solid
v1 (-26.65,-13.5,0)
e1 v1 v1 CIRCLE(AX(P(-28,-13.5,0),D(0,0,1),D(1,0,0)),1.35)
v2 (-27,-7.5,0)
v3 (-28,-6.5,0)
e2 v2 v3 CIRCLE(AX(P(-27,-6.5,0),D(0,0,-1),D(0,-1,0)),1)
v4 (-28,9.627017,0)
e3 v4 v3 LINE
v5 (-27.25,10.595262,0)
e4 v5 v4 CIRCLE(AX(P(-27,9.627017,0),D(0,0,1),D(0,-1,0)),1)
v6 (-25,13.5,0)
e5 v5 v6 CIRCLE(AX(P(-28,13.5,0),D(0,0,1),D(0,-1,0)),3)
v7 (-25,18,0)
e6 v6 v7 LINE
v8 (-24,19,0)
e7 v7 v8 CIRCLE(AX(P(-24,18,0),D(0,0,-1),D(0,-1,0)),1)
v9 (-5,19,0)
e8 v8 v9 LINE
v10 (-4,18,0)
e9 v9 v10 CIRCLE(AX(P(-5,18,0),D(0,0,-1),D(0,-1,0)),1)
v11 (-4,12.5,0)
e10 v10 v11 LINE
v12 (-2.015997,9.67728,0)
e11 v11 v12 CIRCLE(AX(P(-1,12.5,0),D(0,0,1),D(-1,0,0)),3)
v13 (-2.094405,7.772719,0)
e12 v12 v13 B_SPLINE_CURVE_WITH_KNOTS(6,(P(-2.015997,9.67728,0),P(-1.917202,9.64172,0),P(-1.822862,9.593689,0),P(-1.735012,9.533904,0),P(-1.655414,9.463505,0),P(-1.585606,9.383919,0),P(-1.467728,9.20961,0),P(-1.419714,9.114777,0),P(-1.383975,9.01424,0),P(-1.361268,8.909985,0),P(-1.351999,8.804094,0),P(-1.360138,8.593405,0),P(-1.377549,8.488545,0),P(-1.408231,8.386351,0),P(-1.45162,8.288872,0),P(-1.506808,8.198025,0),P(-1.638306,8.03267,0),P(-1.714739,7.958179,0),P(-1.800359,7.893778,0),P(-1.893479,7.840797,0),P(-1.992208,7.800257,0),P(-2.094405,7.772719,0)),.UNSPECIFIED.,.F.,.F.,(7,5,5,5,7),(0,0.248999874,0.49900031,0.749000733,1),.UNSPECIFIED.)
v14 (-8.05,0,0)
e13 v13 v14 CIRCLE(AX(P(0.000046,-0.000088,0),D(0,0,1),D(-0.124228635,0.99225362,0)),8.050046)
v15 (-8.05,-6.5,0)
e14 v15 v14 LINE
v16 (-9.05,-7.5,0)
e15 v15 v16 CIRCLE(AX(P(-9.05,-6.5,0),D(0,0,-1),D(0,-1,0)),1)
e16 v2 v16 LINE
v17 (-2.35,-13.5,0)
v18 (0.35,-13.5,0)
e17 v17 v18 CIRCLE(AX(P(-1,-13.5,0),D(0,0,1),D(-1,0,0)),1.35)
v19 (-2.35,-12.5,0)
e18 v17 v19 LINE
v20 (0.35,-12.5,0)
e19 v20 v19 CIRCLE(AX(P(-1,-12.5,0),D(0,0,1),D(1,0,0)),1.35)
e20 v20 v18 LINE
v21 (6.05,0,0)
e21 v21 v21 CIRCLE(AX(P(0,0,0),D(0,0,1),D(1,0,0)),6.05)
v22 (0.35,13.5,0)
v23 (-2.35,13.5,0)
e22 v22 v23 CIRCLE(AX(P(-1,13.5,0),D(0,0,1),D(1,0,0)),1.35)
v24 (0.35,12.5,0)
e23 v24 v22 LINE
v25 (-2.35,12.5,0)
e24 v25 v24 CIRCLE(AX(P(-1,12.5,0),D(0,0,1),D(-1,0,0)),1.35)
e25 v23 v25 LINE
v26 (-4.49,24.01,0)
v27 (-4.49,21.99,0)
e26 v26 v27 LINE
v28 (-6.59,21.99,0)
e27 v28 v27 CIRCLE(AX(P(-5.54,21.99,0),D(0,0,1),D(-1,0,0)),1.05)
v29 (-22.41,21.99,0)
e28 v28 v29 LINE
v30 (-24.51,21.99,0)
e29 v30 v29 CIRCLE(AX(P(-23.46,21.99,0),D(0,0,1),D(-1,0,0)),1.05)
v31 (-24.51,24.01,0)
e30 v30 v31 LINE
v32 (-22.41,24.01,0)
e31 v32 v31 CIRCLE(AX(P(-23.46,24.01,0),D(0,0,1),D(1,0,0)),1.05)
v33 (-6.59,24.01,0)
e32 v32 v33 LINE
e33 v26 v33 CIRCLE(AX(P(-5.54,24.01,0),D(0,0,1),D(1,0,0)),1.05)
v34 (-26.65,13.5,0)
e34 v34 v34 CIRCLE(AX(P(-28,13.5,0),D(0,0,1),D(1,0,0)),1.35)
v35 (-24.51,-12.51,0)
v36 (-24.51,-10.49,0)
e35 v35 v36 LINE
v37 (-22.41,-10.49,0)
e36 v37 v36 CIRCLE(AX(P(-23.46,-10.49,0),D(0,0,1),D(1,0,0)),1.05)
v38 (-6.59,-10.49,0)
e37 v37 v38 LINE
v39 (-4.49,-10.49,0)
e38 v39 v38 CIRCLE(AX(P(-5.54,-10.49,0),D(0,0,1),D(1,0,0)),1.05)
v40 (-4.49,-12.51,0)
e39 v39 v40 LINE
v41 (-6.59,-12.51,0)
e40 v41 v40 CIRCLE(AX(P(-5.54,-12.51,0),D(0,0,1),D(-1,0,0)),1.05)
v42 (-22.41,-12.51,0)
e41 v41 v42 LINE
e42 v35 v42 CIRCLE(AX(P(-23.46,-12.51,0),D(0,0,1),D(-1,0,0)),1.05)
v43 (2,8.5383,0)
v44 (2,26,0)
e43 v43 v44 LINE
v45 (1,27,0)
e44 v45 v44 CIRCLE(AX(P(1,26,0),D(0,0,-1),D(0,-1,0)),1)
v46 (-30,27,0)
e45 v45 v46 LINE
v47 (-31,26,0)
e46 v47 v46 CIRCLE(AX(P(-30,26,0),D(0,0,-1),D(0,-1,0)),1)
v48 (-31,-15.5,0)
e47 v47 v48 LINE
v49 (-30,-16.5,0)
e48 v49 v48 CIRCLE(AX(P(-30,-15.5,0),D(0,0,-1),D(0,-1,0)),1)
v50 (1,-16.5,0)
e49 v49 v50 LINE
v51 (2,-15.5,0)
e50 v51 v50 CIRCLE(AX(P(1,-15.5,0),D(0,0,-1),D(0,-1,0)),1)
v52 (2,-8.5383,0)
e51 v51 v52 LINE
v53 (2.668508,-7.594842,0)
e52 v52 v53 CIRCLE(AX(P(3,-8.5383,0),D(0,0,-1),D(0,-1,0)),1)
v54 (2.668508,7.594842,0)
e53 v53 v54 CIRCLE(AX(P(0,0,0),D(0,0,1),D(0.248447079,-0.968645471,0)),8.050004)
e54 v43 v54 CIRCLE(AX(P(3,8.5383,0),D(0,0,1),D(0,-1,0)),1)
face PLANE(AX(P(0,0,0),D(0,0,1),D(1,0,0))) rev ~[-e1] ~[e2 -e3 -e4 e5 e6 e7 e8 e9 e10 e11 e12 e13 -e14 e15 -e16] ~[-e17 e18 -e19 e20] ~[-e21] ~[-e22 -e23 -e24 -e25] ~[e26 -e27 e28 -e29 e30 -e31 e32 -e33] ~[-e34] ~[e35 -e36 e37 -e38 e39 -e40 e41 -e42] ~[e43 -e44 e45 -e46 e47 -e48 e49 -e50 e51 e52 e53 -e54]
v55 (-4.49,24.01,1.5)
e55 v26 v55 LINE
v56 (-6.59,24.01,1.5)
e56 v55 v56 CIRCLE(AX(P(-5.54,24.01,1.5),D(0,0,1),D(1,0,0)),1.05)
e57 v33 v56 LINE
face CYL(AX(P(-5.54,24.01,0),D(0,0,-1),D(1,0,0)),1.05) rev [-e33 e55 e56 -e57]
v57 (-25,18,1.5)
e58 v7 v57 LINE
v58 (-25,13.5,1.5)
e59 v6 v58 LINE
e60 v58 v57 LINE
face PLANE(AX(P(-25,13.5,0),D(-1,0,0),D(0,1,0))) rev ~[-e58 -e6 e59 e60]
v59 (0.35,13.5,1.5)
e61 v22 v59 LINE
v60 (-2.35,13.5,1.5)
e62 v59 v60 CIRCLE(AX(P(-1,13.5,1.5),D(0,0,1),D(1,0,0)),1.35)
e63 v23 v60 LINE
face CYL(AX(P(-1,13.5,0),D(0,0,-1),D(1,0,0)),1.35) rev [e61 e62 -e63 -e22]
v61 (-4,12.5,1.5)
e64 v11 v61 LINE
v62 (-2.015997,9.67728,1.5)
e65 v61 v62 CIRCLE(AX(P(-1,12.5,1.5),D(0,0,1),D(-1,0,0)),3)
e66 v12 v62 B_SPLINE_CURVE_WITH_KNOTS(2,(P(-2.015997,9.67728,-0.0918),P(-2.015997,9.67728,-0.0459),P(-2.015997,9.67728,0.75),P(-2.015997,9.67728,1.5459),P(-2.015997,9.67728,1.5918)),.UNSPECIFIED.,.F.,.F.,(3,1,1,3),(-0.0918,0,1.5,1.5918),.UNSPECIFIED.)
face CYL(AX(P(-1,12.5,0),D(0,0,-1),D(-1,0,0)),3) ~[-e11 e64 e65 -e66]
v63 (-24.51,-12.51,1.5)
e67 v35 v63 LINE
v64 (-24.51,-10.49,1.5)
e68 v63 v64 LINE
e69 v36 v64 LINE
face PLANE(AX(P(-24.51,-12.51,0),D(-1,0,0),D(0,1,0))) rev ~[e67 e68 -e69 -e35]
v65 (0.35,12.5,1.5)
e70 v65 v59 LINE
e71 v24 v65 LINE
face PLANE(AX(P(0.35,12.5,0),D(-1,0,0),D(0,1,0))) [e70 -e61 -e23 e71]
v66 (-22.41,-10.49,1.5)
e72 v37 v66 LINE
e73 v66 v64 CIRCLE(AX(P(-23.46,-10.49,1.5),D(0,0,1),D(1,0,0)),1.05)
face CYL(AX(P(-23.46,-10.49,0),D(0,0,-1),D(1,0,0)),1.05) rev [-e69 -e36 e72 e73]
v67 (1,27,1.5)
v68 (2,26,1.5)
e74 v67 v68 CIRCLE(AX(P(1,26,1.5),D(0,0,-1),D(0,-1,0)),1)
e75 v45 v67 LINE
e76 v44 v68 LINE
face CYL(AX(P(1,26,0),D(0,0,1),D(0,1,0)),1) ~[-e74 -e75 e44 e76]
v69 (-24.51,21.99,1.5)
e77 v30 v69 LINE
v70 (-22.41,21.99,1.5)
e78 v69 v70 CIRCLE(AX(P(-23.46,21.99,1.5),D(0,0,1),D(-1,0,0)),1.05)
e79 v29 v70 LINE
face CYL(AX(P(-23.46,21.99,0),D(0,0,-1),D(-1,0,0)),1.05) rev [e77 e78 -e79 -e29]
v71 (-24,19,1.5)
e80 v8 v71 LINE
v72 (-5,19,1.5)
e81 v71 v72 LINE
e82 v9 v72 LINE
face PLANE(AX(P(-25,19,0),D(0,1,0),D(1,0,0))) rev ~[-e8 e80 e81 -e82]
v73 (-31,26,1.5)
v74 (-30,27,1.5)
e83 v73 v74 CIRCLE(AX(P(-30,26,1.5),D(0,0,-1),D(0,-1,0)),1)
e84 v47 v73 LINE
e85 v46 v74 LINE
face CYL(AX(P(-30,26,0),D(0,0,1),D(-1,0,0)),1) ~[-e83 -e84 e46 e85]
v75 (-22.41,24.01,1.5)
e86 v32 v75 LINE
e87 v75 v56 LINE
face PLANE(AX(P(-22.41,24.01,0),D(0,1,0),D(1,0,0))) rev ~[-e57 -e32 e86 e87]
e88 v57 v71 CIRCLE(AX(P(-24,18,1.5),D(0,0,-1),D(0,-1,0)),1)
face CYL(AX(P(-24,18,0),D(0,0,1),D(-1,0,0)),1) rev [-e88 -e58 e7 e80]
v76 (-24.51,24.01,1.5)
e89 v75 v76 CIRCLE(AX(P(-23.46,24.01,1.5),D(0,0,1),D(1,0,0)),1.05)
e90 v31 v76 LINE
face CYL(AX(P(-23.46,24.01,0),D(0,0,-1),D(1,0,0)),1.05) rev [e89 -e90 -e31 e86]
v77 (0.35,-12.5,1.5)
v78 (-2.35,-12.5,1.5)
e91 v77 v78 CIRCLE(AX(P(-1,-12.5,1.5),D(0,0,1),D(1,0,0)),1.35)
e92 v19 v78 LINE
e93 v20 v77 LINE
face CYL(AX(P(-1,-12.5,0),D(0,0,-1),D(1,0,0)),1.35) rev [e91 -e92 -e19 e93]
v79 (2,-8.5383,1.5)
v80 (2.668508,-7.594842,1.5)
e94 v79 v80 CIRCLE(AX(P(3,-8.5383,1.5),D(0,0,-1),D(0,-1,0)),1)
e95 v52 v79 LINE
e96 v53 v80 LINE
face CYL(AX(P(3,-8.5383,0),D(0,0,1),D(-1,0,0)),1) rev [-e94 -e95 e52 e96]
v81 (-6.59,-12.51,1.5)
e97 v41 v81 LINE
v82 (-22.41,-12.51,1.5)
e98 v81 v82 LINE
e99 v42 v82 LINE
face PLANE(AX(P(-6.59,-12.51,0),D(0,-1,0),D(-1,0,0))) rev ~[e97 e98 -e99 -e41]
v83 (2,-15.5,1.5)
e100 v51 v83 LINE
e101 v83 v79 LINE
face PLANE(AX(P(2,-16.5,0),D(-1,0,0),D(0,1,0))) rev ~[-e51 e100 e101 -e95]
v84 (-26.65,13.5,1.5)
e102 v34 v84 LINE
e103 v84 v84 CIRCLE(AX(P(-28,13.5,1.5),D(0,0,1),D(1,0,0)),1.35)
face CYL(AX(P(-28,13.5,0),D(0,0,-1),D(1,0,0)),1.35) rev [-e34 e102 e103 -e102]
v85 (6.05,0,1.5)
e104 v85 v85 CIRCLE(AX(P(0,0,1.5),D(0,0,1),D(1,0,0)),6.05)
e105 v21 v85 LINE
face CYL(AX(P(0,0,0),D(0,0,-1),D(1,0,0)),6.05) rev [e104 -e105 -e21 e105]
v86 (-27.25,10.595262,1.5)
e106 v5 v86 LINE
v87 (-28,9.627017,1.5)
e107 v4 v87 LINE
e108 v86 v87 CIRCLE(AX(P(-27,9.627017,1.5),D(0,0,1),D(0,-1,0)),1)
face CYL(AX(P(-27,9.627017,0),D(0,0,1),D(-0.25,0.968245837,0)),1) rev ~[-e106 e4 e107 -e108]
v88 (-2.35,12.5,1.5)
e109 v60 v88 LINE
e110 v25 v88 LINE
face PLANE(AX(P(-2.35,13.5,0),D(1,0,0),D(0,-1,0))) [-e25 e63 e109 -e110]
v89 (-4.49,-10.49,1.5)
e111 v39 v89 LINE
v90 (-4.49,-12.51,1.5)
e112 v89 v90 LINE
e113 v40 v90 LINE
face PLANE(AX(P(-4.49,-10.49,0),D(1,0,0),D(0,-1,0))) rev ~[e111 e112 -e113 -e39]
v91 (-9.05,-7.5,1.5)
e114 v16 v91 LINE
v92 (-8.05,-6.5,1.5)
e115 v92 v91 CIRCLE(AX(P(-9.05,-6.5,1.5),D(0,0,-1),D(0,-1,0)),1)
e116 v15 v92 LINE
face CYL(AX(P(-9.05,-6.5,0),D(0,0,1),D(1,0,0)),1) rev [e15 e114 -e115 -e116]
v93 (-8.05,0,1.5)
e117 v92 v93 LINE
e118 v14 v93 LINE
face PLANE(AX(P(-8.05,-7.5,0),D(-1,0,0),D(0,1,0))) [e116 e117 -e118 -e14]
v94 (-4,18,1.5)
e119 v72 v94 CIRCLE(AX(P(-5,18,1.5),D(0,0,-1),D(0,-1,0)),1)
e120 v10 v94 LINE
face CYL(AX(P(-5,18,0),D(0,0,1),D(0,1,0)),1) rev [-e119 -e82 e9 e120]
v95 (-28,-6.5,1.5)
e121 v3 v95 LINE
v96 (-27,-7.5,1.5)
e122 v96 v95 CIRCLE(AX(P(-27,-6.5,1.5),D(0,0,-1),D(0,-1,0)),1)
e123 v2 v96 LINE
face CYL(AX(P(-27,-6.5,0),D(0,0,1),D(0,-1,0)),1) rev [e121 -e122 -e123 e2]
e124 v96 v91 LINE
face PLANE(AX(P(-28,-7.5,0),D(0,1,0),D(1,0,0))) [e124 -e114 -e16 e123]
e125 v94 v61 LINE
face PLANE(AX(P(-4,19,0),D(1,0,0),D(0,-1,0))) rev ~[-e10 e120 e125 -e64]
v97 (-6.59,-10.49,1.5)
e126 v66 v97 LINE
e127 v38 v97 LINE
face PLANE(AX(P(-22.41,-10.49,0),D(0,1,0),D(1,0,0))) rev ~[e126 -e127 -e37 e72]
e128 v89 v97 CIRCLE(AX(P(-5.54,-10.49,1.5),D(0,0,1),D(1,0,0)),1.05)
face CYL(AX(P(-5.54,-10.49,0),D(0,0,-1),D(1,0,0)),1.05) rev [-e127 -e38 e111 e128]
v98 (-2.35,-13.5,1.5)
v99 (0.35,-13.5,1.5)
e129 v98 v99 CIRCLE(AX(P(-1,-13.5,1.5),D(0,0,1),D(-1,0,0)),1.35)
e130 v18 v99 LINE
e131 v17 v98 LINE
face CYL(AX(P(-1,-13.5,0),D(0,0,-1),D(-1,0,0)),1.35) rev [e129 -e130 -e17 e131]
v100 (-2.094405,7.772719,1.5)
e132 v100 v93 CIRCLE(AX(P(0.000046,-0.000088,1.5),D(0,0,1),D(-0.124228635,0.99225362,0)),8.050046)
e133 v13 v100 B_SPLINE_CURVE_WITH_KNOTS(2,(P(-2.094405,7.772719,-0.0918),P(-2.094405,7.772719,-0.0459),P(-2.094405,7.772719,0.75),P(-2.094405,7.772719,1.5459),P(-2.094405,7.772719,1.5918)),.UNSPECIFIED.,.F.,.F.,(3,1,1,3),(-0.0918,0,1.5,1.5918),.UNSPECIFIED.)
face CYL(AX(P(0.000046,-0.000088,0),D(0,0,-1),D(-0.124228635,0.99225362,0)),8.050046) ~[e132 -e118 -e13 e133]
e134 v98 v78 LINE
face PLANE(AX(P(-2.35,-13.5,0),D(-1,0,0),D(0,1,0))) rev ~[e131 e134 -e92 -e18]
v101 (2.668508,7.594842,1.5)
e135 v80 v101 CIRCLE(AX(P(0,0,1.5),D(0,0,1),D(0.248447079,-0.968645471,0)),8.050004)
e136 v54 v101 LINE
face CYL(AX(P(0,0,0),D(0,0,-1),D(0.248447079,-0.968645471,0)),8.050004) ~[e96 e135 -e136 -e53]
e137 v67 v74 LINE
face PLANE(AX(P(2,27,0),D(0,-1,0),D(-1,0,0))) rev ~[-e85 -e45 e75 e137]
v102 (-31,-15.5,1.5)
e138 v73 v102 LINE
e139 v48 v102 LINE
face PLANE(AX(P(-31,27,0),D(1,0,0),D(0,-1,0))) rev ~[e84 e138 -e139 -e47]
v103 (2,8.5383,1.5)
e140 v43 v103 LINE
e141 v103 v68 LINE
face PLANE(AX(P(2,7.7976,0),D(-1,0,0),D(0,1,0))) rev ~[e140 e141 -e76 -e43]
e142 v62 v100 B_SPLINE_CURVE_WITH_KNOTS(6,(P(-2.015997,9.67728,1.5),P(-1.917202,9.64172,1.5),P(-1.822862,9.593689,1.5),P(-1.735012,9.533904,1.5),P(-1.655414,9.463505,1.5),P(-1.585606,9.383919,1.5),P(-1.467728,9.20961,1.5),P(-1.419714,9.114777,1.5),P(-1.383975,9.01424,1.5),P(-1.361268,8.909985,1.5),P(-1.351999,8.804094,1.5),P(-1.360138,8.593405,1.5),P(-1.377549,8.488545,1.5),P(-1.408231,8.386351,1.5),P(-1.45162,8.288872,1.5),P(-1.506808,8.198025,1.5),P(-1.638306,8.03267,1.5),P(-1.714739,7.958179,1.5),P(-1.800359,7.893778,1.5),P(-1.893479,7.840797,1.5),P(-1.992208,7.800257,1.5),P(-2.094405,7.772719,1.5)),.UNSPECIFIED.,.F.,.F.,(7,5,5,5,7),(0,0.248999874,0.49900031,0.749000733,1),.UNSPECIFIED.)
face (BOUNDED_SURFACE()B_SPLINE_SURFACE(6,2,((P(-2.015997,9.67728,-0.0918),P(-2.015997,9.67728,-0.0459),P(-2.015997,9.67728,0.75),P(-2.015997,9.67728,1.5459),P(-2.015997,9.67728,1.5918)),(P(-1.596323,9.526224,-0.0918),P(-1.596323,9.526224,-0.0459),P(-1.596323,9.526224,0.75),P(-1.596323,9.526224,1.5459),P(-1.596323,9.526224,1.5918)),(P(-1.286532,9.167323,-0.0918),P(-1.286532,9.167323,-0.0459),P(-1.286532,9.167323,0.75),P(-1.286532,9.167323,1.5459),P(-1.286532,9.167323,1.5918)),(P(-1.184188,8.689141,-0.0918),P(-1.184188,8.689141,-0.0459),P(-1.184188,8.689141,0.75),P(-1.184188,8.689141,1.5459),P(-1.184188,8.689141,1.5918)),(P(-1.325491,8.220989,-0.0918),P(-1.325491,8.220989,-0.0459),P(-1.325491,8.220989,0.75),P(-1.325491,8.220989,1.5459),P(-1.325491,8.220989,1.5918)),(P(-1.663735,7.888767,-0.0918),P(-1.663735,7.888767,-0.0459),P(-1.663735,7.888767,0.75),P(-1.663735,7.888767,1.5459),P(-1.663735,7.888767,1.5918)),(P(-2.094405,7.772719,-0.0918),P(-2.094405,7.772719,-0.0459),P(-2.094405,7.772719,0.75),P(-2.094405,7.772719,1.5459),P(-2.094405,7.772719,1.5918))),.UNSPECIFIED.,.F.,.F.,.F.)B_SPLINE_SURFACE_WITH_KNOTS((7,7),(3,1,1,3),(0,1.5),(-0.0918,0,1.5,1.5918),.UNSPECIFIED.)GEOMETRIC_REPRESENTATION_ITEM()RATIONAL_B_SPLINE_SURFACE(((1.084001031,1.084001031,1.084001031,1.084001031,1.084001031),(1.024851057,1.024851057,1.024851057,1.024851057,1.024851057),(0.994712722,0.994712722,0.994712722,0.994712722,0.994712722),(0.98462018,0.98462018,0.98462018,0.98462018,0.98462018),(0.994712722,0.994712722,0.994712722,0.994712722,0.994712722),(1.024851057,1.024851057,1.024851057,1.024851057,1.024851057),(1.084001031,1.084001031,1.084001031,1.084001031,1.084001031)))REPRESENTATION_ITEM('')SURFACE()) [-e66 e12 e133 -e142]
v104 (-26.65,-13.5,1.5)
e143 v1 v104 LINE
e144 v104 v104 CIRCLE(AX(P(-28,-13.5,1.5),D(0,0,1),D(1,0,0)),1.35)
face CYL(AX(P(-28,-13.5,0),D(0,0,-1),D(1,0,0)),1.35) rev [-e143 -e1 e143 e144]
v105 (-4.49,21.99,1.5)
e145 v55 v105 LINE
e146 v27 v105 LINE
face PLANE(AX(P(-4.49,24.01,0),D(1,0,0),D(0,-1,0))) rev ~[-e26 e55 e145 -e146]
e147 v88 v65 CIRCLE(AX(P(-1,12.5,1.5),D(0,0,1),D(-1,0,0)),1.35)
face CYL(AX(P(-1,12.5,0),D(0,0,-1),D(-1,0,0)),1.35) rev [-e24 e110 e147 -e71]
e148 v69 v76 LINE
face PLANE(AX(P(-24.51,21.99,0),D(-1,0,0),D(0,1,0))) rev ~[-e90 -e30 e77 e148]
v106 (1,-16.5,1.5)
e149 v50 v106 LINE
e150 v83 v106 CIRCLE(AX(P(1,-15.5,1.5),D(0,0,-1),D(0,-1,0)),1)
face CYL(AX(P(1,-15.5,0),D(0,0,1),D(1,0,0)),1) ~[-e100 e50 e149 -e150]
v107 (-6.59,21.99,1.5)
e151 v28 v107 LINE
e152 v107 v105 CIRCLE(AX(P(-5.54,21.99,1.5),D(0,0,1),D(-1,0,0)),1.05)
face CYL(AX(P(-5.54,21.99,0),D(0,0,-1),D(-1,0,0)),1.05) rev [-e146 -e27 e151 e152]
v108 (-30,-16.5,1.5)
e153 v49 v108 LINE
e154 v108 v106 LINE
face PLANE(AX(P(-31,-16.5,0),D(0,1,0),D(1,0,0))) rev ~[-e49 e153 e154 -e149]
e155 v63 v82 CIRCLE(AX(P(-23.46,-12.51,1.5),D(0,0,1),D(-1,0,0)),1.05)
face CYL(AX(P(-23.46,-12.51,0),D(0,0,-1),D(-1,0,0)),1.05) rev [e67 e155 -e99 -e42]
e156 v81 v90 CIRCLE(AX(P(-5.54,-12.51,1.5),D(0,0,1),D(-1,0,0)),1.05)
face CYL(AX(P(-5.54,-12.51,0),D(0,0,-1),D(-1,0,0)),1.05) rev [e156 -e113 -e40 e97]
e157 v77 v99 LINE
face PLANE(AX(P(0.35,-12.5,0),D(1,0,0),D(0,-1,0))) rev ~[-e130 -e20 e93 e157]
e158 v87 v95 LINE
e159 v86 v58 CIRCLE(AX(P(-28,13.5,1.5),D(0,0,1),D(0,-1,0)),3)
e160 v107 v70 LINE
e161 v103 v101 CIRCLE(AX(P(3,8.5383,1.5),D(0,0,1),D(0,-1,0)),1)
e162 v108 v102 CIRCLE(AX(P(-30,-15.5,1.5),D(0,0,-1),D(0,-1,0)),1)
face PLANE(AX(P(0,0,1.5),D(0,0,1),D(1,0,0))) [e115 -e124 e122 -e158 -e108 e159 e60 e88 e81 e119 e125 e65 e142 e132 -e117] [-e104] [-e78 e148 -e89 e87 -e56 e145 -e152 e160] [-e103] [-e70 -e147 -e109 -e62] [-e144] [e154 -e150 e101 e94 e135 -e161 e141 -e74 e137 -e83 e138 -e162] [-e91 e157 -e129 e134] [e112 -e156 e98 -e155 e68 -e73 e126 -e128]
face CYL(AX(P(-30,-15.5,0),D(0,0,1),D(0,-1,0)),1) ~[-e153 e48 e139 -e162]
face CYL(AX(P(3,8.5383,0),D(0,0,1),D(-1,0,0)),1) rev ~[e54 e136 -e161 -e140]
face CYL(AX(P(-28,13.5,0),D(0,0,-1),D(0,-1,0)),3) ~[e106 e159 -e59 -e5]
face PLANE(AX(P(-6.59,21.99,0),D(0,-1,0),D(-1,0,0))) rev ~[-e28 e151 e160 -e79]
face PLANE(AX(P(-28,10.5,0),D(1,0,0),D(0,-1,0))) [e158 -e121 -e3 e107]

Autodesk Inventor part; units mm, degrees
ref_plane "YZ Plane" through (0, 0, 0) normal (1, 0, 0) x (0, 1, 0)
ref_plane "XZ Plane" through (0, 0, 0) normal (0, 1, 0) x (-1, 0, 0)
ref_plane "XY Plane" through (0, 0, 0) normal (0, 0, 1) x (1, 0, 0)
sketch "スケッチ1" plane through (0, 0, 0) normal (0, 0, 1) x (1, 0, 0)
  circle A0 centre (0, 0) radius 6.05
  arc A1 (2, -7.7976) -> (2, 7.7976) centre (0, 0) ccw
  line L0 (-31, 0) -> (0, 0) construction
  line L1 (-24.51, 24.01) -> (-4.49, 24.01)
  line L2 (-4.49, 24.01) -> (-4.49, 21.99)
  line L3 (-4.49, 21.99) -> (-24.51, 21.99)
  line L4 (-24.51, 21.99) -> (-24.51, 24.01)
  line L5 (-24.51, 24.01) -> (-4.49, 21.99) construction
  line L6 (-4.49, 24.01) -> (-24.51, 21.99) construction
  line L7 (-24.5, 24) -> (-4.5, 24) construction
  line L8 (-4.5, 24) -> (-4.5, 22) construction
  line L9 (-4.5, 22) -> (-24.5, 22) construction
  line L10 (-24.5, 22) -> (-24.5, 24) construction
  line L11 (-24.5, 24) -> (-4.5, 22) construction
  line L12 (-4.5, 24) -> (-24.5, 22) construction
  line L13 (-24.51, 23) -> (-4.49, 23) construction
  arc A2 (-22.41, 24.01) -> (-24.51, 24.01) centre (-23.46, 24.01) ccw
  arc A3 (-24.51, 21.99) -> (-22.41, 21.99) centre (-23.46, 21.99) ccw
  line L14 (-14.5, 24) -> (-14.5, 21.99) construction
  arc A4 (-4.49, 24.01) -> (-6.59, 24.01) centre (-5.54, 24.01) ccw
  arc A5 (-6.59, 21.99) -> (-4.49, 21.99) centre (-5.54, 21.99) ccw
  line L15 (-28, 13.5) -> (-1, 13.5) construction
  line L16 (-1, 13.5) -> (-1, -13.5) construction
  line L17 (-1, -13.5) -> (-28, -13.5) construction
  line L18 (-28, -13.5) -> (-28, 13.5) construction
  line L19 (-28, 13.5) -> (-1, -13.5) construction
  line L20 (-1, 13.5) -> (-28, -13.5) construction
  line L21 (-14.5, 13.5) -> (-14.5, -13.5) construction
  line L22 (-24.51, -10.49) -> (-4.49, -10.49)
  line L23 (-4.49, -10.49) -> (-4.49, -12.51)
  line L24 (-4.49, -12.51) -> (-24.51, -12.51)
  line L25 (-24.51, -12.51) -> (-24.51, -10.49)
  line L26 (-24.51, -10.49) -> (-4.49, -12.51) construction
  line L27 (-4.49, -10.49) -> (-24.51, -12.51) construction
  line L28 (-24.5, -10.5) -> (-4.5, -10.5) construction
  line L29 (-4.5, -10.5) -> (-4.5, -12.5) construction
  line L30 (-4.5, -12.5) -> (-24.5, -12.5) construction
  line L31 (-24.5, -12.5) -> (-24.5, -10.5) construction
  line L32 (-24.5, -10.5) -> (-4.5, -12.5) construction
  line L33 (-4.5, -10.5) -> (-24.5, -12.5) construction
  line L34 (-24.51, -11.5) -> (-4.49, -11.5) construction
  arc A6 (-22.41, -10.49) -> (-24.51, -10.49) centre (-23.46, -10.49) ccw
  arc A7 (-24.51, -12.51) -> (-22.41, -12.51) centre (-23.46, -12.51) ccw
  line L35 (-14.5, -10.5) -> (-14.5, -12.51) construction
  arc A8 (-4.49, -10.49) -> (-6.59, -10.49) centre (-5.54, -10.49) ccw
  arc A9 (-6.59, -12.51) -> (-4.49, -12.51) centre (-5.54, -12.51) ccw
  line L36 (-31, 27) -> (-31, -16.5)
  line L37 (-31, -16.5) -> (2, -16.5)
  line L38 (2, -16.5) -> (2, -7.7976)
  line L39 (2, 7.7976) -> (2, 27)
  line L40 (2, 27) -> (-31, 27)
  arc A10 (-28, 10.5) -> (-25, 13.5) centre (-28, 13.5) ccw
  line L41 (-28, 10.5) -> (-28, 10.5)
  line L42 (-28, 10.5) -> (-28, -7.5)
  line L43 (-28, -7.5) -> (-8.05, -7.5)
  line L44 (-8.05, -7.5) -> (-8.05, 0)
  line L45 (-25, 13.5) -> (-25, 19)
  line L46 (-25, 19) -> (-4, 19)
  arc A11 (-1, 7.9876) -> (-8.05, 0) centre (0, 0) ccw
  line L47 (-1, 9.5) -> (-1, 7.9876)
  circle A12 centre (-28, 13.5) radius 1.35
  arc A13 (0.35, 13.5) -> (-2.35, 13.5) centre (-1, 13.5) ccw
  arc A14 (-2.35, 12.5) -> (0.35, 12.5) centre (-1, 12.5) ccw
  arc A15 (-4, 12.5) -> (-1, 9.5) centre (-1, 12.5) ccw
  line L48 (0.35, 12.5) -> (0.35, 13.5)
  line L49 (-2.35, 13.5) -> (-2.35, 12.5)
  line L50 (-4, 19) -> (-4, 12.5)
  arc A16 (-2.35, -13.5) -> (0.35, -13.5) centre (-1, -13.5) ccw
  arc A17 (0.35, -12.5) -> (-2.35, -12.5) centre (-1, -12.5) ccw
  line L51 (0.35, -12.5) -> (0.35, -13.5)
  line L52 (-2.35, -13.5) -> (-2.35, -12.5)
  circle A18 centre (-28, -13.5) radius 1.35
  point P0 (-14.5, 23)
  point P1 (-14.5, 0)
  point P2 (-14.5, -11.5)
  point P3 (-14.5, 22.995)
  point P4 (-6.59, -10.49)
  point P5 (-6.59, -12.51)
  point P6 (-22.41, -12.51)
  point P7 (-6.59, 24.01)
  dimension "d96" = 12.1
  dimension "d215" = 20
  dimension "d216" = 2
  dimension "d217" = 0.01
  dimension "d219" = 0.01
  dimension "d220" = 1.05
  dimension "d222" = 27
  dimension "d223" = 27
  dimension "d226" = 20
  dimension "d227" = 2
  dimension "d228" = 0.01
  dimension "d229" = 0.01
  dimension "d230" = 1.05
  dimension "d231" = 32.5
  dimension "d238" = 3
  dimension "d240" = 3
  dimension "d241" = 3
  dimension "d242" = 4
  dimension "d243" = 3
  dimension "d244" = 2
  dimension "d245" = 3
  dimension "d246" = 3
  dimension "d247" = 3
  dimension "d248" = 3
  dimension "d251" = 2
  dimension "d252" = 3
  dimension "d255" = 1
  dimension "d257" = 2.7
  dimension "d259" = 2.7
  dimension "d260" = 1
  dimension "d262" = 3
extrude "押し出し1" add sketch "スケッチ1" along normal blind 1.5
fillet "フィレット1" radius 1 7 edges at (-1, 7.9876, 0.75) (-8.05, -7.5, 0.75) (-28, -7.5, 0.75) (-25, 19, 0.75) (-28, 10.5, 0.75) (-4, 19, 0.75) (-1, 9.5, 0.75)
fillet "フィレット2" radius 1 6 edges at (-31, 27, 0.75) (2, 27, 0.75) (-31, -16.5, 0.75) (2, -7.7976, 0.75) (2, -16.5, 0.75) (2, 7.7976, 0.75)
properties part number "Trunk_vertical_frame_06" material "アルミニウム 2014-T4"
